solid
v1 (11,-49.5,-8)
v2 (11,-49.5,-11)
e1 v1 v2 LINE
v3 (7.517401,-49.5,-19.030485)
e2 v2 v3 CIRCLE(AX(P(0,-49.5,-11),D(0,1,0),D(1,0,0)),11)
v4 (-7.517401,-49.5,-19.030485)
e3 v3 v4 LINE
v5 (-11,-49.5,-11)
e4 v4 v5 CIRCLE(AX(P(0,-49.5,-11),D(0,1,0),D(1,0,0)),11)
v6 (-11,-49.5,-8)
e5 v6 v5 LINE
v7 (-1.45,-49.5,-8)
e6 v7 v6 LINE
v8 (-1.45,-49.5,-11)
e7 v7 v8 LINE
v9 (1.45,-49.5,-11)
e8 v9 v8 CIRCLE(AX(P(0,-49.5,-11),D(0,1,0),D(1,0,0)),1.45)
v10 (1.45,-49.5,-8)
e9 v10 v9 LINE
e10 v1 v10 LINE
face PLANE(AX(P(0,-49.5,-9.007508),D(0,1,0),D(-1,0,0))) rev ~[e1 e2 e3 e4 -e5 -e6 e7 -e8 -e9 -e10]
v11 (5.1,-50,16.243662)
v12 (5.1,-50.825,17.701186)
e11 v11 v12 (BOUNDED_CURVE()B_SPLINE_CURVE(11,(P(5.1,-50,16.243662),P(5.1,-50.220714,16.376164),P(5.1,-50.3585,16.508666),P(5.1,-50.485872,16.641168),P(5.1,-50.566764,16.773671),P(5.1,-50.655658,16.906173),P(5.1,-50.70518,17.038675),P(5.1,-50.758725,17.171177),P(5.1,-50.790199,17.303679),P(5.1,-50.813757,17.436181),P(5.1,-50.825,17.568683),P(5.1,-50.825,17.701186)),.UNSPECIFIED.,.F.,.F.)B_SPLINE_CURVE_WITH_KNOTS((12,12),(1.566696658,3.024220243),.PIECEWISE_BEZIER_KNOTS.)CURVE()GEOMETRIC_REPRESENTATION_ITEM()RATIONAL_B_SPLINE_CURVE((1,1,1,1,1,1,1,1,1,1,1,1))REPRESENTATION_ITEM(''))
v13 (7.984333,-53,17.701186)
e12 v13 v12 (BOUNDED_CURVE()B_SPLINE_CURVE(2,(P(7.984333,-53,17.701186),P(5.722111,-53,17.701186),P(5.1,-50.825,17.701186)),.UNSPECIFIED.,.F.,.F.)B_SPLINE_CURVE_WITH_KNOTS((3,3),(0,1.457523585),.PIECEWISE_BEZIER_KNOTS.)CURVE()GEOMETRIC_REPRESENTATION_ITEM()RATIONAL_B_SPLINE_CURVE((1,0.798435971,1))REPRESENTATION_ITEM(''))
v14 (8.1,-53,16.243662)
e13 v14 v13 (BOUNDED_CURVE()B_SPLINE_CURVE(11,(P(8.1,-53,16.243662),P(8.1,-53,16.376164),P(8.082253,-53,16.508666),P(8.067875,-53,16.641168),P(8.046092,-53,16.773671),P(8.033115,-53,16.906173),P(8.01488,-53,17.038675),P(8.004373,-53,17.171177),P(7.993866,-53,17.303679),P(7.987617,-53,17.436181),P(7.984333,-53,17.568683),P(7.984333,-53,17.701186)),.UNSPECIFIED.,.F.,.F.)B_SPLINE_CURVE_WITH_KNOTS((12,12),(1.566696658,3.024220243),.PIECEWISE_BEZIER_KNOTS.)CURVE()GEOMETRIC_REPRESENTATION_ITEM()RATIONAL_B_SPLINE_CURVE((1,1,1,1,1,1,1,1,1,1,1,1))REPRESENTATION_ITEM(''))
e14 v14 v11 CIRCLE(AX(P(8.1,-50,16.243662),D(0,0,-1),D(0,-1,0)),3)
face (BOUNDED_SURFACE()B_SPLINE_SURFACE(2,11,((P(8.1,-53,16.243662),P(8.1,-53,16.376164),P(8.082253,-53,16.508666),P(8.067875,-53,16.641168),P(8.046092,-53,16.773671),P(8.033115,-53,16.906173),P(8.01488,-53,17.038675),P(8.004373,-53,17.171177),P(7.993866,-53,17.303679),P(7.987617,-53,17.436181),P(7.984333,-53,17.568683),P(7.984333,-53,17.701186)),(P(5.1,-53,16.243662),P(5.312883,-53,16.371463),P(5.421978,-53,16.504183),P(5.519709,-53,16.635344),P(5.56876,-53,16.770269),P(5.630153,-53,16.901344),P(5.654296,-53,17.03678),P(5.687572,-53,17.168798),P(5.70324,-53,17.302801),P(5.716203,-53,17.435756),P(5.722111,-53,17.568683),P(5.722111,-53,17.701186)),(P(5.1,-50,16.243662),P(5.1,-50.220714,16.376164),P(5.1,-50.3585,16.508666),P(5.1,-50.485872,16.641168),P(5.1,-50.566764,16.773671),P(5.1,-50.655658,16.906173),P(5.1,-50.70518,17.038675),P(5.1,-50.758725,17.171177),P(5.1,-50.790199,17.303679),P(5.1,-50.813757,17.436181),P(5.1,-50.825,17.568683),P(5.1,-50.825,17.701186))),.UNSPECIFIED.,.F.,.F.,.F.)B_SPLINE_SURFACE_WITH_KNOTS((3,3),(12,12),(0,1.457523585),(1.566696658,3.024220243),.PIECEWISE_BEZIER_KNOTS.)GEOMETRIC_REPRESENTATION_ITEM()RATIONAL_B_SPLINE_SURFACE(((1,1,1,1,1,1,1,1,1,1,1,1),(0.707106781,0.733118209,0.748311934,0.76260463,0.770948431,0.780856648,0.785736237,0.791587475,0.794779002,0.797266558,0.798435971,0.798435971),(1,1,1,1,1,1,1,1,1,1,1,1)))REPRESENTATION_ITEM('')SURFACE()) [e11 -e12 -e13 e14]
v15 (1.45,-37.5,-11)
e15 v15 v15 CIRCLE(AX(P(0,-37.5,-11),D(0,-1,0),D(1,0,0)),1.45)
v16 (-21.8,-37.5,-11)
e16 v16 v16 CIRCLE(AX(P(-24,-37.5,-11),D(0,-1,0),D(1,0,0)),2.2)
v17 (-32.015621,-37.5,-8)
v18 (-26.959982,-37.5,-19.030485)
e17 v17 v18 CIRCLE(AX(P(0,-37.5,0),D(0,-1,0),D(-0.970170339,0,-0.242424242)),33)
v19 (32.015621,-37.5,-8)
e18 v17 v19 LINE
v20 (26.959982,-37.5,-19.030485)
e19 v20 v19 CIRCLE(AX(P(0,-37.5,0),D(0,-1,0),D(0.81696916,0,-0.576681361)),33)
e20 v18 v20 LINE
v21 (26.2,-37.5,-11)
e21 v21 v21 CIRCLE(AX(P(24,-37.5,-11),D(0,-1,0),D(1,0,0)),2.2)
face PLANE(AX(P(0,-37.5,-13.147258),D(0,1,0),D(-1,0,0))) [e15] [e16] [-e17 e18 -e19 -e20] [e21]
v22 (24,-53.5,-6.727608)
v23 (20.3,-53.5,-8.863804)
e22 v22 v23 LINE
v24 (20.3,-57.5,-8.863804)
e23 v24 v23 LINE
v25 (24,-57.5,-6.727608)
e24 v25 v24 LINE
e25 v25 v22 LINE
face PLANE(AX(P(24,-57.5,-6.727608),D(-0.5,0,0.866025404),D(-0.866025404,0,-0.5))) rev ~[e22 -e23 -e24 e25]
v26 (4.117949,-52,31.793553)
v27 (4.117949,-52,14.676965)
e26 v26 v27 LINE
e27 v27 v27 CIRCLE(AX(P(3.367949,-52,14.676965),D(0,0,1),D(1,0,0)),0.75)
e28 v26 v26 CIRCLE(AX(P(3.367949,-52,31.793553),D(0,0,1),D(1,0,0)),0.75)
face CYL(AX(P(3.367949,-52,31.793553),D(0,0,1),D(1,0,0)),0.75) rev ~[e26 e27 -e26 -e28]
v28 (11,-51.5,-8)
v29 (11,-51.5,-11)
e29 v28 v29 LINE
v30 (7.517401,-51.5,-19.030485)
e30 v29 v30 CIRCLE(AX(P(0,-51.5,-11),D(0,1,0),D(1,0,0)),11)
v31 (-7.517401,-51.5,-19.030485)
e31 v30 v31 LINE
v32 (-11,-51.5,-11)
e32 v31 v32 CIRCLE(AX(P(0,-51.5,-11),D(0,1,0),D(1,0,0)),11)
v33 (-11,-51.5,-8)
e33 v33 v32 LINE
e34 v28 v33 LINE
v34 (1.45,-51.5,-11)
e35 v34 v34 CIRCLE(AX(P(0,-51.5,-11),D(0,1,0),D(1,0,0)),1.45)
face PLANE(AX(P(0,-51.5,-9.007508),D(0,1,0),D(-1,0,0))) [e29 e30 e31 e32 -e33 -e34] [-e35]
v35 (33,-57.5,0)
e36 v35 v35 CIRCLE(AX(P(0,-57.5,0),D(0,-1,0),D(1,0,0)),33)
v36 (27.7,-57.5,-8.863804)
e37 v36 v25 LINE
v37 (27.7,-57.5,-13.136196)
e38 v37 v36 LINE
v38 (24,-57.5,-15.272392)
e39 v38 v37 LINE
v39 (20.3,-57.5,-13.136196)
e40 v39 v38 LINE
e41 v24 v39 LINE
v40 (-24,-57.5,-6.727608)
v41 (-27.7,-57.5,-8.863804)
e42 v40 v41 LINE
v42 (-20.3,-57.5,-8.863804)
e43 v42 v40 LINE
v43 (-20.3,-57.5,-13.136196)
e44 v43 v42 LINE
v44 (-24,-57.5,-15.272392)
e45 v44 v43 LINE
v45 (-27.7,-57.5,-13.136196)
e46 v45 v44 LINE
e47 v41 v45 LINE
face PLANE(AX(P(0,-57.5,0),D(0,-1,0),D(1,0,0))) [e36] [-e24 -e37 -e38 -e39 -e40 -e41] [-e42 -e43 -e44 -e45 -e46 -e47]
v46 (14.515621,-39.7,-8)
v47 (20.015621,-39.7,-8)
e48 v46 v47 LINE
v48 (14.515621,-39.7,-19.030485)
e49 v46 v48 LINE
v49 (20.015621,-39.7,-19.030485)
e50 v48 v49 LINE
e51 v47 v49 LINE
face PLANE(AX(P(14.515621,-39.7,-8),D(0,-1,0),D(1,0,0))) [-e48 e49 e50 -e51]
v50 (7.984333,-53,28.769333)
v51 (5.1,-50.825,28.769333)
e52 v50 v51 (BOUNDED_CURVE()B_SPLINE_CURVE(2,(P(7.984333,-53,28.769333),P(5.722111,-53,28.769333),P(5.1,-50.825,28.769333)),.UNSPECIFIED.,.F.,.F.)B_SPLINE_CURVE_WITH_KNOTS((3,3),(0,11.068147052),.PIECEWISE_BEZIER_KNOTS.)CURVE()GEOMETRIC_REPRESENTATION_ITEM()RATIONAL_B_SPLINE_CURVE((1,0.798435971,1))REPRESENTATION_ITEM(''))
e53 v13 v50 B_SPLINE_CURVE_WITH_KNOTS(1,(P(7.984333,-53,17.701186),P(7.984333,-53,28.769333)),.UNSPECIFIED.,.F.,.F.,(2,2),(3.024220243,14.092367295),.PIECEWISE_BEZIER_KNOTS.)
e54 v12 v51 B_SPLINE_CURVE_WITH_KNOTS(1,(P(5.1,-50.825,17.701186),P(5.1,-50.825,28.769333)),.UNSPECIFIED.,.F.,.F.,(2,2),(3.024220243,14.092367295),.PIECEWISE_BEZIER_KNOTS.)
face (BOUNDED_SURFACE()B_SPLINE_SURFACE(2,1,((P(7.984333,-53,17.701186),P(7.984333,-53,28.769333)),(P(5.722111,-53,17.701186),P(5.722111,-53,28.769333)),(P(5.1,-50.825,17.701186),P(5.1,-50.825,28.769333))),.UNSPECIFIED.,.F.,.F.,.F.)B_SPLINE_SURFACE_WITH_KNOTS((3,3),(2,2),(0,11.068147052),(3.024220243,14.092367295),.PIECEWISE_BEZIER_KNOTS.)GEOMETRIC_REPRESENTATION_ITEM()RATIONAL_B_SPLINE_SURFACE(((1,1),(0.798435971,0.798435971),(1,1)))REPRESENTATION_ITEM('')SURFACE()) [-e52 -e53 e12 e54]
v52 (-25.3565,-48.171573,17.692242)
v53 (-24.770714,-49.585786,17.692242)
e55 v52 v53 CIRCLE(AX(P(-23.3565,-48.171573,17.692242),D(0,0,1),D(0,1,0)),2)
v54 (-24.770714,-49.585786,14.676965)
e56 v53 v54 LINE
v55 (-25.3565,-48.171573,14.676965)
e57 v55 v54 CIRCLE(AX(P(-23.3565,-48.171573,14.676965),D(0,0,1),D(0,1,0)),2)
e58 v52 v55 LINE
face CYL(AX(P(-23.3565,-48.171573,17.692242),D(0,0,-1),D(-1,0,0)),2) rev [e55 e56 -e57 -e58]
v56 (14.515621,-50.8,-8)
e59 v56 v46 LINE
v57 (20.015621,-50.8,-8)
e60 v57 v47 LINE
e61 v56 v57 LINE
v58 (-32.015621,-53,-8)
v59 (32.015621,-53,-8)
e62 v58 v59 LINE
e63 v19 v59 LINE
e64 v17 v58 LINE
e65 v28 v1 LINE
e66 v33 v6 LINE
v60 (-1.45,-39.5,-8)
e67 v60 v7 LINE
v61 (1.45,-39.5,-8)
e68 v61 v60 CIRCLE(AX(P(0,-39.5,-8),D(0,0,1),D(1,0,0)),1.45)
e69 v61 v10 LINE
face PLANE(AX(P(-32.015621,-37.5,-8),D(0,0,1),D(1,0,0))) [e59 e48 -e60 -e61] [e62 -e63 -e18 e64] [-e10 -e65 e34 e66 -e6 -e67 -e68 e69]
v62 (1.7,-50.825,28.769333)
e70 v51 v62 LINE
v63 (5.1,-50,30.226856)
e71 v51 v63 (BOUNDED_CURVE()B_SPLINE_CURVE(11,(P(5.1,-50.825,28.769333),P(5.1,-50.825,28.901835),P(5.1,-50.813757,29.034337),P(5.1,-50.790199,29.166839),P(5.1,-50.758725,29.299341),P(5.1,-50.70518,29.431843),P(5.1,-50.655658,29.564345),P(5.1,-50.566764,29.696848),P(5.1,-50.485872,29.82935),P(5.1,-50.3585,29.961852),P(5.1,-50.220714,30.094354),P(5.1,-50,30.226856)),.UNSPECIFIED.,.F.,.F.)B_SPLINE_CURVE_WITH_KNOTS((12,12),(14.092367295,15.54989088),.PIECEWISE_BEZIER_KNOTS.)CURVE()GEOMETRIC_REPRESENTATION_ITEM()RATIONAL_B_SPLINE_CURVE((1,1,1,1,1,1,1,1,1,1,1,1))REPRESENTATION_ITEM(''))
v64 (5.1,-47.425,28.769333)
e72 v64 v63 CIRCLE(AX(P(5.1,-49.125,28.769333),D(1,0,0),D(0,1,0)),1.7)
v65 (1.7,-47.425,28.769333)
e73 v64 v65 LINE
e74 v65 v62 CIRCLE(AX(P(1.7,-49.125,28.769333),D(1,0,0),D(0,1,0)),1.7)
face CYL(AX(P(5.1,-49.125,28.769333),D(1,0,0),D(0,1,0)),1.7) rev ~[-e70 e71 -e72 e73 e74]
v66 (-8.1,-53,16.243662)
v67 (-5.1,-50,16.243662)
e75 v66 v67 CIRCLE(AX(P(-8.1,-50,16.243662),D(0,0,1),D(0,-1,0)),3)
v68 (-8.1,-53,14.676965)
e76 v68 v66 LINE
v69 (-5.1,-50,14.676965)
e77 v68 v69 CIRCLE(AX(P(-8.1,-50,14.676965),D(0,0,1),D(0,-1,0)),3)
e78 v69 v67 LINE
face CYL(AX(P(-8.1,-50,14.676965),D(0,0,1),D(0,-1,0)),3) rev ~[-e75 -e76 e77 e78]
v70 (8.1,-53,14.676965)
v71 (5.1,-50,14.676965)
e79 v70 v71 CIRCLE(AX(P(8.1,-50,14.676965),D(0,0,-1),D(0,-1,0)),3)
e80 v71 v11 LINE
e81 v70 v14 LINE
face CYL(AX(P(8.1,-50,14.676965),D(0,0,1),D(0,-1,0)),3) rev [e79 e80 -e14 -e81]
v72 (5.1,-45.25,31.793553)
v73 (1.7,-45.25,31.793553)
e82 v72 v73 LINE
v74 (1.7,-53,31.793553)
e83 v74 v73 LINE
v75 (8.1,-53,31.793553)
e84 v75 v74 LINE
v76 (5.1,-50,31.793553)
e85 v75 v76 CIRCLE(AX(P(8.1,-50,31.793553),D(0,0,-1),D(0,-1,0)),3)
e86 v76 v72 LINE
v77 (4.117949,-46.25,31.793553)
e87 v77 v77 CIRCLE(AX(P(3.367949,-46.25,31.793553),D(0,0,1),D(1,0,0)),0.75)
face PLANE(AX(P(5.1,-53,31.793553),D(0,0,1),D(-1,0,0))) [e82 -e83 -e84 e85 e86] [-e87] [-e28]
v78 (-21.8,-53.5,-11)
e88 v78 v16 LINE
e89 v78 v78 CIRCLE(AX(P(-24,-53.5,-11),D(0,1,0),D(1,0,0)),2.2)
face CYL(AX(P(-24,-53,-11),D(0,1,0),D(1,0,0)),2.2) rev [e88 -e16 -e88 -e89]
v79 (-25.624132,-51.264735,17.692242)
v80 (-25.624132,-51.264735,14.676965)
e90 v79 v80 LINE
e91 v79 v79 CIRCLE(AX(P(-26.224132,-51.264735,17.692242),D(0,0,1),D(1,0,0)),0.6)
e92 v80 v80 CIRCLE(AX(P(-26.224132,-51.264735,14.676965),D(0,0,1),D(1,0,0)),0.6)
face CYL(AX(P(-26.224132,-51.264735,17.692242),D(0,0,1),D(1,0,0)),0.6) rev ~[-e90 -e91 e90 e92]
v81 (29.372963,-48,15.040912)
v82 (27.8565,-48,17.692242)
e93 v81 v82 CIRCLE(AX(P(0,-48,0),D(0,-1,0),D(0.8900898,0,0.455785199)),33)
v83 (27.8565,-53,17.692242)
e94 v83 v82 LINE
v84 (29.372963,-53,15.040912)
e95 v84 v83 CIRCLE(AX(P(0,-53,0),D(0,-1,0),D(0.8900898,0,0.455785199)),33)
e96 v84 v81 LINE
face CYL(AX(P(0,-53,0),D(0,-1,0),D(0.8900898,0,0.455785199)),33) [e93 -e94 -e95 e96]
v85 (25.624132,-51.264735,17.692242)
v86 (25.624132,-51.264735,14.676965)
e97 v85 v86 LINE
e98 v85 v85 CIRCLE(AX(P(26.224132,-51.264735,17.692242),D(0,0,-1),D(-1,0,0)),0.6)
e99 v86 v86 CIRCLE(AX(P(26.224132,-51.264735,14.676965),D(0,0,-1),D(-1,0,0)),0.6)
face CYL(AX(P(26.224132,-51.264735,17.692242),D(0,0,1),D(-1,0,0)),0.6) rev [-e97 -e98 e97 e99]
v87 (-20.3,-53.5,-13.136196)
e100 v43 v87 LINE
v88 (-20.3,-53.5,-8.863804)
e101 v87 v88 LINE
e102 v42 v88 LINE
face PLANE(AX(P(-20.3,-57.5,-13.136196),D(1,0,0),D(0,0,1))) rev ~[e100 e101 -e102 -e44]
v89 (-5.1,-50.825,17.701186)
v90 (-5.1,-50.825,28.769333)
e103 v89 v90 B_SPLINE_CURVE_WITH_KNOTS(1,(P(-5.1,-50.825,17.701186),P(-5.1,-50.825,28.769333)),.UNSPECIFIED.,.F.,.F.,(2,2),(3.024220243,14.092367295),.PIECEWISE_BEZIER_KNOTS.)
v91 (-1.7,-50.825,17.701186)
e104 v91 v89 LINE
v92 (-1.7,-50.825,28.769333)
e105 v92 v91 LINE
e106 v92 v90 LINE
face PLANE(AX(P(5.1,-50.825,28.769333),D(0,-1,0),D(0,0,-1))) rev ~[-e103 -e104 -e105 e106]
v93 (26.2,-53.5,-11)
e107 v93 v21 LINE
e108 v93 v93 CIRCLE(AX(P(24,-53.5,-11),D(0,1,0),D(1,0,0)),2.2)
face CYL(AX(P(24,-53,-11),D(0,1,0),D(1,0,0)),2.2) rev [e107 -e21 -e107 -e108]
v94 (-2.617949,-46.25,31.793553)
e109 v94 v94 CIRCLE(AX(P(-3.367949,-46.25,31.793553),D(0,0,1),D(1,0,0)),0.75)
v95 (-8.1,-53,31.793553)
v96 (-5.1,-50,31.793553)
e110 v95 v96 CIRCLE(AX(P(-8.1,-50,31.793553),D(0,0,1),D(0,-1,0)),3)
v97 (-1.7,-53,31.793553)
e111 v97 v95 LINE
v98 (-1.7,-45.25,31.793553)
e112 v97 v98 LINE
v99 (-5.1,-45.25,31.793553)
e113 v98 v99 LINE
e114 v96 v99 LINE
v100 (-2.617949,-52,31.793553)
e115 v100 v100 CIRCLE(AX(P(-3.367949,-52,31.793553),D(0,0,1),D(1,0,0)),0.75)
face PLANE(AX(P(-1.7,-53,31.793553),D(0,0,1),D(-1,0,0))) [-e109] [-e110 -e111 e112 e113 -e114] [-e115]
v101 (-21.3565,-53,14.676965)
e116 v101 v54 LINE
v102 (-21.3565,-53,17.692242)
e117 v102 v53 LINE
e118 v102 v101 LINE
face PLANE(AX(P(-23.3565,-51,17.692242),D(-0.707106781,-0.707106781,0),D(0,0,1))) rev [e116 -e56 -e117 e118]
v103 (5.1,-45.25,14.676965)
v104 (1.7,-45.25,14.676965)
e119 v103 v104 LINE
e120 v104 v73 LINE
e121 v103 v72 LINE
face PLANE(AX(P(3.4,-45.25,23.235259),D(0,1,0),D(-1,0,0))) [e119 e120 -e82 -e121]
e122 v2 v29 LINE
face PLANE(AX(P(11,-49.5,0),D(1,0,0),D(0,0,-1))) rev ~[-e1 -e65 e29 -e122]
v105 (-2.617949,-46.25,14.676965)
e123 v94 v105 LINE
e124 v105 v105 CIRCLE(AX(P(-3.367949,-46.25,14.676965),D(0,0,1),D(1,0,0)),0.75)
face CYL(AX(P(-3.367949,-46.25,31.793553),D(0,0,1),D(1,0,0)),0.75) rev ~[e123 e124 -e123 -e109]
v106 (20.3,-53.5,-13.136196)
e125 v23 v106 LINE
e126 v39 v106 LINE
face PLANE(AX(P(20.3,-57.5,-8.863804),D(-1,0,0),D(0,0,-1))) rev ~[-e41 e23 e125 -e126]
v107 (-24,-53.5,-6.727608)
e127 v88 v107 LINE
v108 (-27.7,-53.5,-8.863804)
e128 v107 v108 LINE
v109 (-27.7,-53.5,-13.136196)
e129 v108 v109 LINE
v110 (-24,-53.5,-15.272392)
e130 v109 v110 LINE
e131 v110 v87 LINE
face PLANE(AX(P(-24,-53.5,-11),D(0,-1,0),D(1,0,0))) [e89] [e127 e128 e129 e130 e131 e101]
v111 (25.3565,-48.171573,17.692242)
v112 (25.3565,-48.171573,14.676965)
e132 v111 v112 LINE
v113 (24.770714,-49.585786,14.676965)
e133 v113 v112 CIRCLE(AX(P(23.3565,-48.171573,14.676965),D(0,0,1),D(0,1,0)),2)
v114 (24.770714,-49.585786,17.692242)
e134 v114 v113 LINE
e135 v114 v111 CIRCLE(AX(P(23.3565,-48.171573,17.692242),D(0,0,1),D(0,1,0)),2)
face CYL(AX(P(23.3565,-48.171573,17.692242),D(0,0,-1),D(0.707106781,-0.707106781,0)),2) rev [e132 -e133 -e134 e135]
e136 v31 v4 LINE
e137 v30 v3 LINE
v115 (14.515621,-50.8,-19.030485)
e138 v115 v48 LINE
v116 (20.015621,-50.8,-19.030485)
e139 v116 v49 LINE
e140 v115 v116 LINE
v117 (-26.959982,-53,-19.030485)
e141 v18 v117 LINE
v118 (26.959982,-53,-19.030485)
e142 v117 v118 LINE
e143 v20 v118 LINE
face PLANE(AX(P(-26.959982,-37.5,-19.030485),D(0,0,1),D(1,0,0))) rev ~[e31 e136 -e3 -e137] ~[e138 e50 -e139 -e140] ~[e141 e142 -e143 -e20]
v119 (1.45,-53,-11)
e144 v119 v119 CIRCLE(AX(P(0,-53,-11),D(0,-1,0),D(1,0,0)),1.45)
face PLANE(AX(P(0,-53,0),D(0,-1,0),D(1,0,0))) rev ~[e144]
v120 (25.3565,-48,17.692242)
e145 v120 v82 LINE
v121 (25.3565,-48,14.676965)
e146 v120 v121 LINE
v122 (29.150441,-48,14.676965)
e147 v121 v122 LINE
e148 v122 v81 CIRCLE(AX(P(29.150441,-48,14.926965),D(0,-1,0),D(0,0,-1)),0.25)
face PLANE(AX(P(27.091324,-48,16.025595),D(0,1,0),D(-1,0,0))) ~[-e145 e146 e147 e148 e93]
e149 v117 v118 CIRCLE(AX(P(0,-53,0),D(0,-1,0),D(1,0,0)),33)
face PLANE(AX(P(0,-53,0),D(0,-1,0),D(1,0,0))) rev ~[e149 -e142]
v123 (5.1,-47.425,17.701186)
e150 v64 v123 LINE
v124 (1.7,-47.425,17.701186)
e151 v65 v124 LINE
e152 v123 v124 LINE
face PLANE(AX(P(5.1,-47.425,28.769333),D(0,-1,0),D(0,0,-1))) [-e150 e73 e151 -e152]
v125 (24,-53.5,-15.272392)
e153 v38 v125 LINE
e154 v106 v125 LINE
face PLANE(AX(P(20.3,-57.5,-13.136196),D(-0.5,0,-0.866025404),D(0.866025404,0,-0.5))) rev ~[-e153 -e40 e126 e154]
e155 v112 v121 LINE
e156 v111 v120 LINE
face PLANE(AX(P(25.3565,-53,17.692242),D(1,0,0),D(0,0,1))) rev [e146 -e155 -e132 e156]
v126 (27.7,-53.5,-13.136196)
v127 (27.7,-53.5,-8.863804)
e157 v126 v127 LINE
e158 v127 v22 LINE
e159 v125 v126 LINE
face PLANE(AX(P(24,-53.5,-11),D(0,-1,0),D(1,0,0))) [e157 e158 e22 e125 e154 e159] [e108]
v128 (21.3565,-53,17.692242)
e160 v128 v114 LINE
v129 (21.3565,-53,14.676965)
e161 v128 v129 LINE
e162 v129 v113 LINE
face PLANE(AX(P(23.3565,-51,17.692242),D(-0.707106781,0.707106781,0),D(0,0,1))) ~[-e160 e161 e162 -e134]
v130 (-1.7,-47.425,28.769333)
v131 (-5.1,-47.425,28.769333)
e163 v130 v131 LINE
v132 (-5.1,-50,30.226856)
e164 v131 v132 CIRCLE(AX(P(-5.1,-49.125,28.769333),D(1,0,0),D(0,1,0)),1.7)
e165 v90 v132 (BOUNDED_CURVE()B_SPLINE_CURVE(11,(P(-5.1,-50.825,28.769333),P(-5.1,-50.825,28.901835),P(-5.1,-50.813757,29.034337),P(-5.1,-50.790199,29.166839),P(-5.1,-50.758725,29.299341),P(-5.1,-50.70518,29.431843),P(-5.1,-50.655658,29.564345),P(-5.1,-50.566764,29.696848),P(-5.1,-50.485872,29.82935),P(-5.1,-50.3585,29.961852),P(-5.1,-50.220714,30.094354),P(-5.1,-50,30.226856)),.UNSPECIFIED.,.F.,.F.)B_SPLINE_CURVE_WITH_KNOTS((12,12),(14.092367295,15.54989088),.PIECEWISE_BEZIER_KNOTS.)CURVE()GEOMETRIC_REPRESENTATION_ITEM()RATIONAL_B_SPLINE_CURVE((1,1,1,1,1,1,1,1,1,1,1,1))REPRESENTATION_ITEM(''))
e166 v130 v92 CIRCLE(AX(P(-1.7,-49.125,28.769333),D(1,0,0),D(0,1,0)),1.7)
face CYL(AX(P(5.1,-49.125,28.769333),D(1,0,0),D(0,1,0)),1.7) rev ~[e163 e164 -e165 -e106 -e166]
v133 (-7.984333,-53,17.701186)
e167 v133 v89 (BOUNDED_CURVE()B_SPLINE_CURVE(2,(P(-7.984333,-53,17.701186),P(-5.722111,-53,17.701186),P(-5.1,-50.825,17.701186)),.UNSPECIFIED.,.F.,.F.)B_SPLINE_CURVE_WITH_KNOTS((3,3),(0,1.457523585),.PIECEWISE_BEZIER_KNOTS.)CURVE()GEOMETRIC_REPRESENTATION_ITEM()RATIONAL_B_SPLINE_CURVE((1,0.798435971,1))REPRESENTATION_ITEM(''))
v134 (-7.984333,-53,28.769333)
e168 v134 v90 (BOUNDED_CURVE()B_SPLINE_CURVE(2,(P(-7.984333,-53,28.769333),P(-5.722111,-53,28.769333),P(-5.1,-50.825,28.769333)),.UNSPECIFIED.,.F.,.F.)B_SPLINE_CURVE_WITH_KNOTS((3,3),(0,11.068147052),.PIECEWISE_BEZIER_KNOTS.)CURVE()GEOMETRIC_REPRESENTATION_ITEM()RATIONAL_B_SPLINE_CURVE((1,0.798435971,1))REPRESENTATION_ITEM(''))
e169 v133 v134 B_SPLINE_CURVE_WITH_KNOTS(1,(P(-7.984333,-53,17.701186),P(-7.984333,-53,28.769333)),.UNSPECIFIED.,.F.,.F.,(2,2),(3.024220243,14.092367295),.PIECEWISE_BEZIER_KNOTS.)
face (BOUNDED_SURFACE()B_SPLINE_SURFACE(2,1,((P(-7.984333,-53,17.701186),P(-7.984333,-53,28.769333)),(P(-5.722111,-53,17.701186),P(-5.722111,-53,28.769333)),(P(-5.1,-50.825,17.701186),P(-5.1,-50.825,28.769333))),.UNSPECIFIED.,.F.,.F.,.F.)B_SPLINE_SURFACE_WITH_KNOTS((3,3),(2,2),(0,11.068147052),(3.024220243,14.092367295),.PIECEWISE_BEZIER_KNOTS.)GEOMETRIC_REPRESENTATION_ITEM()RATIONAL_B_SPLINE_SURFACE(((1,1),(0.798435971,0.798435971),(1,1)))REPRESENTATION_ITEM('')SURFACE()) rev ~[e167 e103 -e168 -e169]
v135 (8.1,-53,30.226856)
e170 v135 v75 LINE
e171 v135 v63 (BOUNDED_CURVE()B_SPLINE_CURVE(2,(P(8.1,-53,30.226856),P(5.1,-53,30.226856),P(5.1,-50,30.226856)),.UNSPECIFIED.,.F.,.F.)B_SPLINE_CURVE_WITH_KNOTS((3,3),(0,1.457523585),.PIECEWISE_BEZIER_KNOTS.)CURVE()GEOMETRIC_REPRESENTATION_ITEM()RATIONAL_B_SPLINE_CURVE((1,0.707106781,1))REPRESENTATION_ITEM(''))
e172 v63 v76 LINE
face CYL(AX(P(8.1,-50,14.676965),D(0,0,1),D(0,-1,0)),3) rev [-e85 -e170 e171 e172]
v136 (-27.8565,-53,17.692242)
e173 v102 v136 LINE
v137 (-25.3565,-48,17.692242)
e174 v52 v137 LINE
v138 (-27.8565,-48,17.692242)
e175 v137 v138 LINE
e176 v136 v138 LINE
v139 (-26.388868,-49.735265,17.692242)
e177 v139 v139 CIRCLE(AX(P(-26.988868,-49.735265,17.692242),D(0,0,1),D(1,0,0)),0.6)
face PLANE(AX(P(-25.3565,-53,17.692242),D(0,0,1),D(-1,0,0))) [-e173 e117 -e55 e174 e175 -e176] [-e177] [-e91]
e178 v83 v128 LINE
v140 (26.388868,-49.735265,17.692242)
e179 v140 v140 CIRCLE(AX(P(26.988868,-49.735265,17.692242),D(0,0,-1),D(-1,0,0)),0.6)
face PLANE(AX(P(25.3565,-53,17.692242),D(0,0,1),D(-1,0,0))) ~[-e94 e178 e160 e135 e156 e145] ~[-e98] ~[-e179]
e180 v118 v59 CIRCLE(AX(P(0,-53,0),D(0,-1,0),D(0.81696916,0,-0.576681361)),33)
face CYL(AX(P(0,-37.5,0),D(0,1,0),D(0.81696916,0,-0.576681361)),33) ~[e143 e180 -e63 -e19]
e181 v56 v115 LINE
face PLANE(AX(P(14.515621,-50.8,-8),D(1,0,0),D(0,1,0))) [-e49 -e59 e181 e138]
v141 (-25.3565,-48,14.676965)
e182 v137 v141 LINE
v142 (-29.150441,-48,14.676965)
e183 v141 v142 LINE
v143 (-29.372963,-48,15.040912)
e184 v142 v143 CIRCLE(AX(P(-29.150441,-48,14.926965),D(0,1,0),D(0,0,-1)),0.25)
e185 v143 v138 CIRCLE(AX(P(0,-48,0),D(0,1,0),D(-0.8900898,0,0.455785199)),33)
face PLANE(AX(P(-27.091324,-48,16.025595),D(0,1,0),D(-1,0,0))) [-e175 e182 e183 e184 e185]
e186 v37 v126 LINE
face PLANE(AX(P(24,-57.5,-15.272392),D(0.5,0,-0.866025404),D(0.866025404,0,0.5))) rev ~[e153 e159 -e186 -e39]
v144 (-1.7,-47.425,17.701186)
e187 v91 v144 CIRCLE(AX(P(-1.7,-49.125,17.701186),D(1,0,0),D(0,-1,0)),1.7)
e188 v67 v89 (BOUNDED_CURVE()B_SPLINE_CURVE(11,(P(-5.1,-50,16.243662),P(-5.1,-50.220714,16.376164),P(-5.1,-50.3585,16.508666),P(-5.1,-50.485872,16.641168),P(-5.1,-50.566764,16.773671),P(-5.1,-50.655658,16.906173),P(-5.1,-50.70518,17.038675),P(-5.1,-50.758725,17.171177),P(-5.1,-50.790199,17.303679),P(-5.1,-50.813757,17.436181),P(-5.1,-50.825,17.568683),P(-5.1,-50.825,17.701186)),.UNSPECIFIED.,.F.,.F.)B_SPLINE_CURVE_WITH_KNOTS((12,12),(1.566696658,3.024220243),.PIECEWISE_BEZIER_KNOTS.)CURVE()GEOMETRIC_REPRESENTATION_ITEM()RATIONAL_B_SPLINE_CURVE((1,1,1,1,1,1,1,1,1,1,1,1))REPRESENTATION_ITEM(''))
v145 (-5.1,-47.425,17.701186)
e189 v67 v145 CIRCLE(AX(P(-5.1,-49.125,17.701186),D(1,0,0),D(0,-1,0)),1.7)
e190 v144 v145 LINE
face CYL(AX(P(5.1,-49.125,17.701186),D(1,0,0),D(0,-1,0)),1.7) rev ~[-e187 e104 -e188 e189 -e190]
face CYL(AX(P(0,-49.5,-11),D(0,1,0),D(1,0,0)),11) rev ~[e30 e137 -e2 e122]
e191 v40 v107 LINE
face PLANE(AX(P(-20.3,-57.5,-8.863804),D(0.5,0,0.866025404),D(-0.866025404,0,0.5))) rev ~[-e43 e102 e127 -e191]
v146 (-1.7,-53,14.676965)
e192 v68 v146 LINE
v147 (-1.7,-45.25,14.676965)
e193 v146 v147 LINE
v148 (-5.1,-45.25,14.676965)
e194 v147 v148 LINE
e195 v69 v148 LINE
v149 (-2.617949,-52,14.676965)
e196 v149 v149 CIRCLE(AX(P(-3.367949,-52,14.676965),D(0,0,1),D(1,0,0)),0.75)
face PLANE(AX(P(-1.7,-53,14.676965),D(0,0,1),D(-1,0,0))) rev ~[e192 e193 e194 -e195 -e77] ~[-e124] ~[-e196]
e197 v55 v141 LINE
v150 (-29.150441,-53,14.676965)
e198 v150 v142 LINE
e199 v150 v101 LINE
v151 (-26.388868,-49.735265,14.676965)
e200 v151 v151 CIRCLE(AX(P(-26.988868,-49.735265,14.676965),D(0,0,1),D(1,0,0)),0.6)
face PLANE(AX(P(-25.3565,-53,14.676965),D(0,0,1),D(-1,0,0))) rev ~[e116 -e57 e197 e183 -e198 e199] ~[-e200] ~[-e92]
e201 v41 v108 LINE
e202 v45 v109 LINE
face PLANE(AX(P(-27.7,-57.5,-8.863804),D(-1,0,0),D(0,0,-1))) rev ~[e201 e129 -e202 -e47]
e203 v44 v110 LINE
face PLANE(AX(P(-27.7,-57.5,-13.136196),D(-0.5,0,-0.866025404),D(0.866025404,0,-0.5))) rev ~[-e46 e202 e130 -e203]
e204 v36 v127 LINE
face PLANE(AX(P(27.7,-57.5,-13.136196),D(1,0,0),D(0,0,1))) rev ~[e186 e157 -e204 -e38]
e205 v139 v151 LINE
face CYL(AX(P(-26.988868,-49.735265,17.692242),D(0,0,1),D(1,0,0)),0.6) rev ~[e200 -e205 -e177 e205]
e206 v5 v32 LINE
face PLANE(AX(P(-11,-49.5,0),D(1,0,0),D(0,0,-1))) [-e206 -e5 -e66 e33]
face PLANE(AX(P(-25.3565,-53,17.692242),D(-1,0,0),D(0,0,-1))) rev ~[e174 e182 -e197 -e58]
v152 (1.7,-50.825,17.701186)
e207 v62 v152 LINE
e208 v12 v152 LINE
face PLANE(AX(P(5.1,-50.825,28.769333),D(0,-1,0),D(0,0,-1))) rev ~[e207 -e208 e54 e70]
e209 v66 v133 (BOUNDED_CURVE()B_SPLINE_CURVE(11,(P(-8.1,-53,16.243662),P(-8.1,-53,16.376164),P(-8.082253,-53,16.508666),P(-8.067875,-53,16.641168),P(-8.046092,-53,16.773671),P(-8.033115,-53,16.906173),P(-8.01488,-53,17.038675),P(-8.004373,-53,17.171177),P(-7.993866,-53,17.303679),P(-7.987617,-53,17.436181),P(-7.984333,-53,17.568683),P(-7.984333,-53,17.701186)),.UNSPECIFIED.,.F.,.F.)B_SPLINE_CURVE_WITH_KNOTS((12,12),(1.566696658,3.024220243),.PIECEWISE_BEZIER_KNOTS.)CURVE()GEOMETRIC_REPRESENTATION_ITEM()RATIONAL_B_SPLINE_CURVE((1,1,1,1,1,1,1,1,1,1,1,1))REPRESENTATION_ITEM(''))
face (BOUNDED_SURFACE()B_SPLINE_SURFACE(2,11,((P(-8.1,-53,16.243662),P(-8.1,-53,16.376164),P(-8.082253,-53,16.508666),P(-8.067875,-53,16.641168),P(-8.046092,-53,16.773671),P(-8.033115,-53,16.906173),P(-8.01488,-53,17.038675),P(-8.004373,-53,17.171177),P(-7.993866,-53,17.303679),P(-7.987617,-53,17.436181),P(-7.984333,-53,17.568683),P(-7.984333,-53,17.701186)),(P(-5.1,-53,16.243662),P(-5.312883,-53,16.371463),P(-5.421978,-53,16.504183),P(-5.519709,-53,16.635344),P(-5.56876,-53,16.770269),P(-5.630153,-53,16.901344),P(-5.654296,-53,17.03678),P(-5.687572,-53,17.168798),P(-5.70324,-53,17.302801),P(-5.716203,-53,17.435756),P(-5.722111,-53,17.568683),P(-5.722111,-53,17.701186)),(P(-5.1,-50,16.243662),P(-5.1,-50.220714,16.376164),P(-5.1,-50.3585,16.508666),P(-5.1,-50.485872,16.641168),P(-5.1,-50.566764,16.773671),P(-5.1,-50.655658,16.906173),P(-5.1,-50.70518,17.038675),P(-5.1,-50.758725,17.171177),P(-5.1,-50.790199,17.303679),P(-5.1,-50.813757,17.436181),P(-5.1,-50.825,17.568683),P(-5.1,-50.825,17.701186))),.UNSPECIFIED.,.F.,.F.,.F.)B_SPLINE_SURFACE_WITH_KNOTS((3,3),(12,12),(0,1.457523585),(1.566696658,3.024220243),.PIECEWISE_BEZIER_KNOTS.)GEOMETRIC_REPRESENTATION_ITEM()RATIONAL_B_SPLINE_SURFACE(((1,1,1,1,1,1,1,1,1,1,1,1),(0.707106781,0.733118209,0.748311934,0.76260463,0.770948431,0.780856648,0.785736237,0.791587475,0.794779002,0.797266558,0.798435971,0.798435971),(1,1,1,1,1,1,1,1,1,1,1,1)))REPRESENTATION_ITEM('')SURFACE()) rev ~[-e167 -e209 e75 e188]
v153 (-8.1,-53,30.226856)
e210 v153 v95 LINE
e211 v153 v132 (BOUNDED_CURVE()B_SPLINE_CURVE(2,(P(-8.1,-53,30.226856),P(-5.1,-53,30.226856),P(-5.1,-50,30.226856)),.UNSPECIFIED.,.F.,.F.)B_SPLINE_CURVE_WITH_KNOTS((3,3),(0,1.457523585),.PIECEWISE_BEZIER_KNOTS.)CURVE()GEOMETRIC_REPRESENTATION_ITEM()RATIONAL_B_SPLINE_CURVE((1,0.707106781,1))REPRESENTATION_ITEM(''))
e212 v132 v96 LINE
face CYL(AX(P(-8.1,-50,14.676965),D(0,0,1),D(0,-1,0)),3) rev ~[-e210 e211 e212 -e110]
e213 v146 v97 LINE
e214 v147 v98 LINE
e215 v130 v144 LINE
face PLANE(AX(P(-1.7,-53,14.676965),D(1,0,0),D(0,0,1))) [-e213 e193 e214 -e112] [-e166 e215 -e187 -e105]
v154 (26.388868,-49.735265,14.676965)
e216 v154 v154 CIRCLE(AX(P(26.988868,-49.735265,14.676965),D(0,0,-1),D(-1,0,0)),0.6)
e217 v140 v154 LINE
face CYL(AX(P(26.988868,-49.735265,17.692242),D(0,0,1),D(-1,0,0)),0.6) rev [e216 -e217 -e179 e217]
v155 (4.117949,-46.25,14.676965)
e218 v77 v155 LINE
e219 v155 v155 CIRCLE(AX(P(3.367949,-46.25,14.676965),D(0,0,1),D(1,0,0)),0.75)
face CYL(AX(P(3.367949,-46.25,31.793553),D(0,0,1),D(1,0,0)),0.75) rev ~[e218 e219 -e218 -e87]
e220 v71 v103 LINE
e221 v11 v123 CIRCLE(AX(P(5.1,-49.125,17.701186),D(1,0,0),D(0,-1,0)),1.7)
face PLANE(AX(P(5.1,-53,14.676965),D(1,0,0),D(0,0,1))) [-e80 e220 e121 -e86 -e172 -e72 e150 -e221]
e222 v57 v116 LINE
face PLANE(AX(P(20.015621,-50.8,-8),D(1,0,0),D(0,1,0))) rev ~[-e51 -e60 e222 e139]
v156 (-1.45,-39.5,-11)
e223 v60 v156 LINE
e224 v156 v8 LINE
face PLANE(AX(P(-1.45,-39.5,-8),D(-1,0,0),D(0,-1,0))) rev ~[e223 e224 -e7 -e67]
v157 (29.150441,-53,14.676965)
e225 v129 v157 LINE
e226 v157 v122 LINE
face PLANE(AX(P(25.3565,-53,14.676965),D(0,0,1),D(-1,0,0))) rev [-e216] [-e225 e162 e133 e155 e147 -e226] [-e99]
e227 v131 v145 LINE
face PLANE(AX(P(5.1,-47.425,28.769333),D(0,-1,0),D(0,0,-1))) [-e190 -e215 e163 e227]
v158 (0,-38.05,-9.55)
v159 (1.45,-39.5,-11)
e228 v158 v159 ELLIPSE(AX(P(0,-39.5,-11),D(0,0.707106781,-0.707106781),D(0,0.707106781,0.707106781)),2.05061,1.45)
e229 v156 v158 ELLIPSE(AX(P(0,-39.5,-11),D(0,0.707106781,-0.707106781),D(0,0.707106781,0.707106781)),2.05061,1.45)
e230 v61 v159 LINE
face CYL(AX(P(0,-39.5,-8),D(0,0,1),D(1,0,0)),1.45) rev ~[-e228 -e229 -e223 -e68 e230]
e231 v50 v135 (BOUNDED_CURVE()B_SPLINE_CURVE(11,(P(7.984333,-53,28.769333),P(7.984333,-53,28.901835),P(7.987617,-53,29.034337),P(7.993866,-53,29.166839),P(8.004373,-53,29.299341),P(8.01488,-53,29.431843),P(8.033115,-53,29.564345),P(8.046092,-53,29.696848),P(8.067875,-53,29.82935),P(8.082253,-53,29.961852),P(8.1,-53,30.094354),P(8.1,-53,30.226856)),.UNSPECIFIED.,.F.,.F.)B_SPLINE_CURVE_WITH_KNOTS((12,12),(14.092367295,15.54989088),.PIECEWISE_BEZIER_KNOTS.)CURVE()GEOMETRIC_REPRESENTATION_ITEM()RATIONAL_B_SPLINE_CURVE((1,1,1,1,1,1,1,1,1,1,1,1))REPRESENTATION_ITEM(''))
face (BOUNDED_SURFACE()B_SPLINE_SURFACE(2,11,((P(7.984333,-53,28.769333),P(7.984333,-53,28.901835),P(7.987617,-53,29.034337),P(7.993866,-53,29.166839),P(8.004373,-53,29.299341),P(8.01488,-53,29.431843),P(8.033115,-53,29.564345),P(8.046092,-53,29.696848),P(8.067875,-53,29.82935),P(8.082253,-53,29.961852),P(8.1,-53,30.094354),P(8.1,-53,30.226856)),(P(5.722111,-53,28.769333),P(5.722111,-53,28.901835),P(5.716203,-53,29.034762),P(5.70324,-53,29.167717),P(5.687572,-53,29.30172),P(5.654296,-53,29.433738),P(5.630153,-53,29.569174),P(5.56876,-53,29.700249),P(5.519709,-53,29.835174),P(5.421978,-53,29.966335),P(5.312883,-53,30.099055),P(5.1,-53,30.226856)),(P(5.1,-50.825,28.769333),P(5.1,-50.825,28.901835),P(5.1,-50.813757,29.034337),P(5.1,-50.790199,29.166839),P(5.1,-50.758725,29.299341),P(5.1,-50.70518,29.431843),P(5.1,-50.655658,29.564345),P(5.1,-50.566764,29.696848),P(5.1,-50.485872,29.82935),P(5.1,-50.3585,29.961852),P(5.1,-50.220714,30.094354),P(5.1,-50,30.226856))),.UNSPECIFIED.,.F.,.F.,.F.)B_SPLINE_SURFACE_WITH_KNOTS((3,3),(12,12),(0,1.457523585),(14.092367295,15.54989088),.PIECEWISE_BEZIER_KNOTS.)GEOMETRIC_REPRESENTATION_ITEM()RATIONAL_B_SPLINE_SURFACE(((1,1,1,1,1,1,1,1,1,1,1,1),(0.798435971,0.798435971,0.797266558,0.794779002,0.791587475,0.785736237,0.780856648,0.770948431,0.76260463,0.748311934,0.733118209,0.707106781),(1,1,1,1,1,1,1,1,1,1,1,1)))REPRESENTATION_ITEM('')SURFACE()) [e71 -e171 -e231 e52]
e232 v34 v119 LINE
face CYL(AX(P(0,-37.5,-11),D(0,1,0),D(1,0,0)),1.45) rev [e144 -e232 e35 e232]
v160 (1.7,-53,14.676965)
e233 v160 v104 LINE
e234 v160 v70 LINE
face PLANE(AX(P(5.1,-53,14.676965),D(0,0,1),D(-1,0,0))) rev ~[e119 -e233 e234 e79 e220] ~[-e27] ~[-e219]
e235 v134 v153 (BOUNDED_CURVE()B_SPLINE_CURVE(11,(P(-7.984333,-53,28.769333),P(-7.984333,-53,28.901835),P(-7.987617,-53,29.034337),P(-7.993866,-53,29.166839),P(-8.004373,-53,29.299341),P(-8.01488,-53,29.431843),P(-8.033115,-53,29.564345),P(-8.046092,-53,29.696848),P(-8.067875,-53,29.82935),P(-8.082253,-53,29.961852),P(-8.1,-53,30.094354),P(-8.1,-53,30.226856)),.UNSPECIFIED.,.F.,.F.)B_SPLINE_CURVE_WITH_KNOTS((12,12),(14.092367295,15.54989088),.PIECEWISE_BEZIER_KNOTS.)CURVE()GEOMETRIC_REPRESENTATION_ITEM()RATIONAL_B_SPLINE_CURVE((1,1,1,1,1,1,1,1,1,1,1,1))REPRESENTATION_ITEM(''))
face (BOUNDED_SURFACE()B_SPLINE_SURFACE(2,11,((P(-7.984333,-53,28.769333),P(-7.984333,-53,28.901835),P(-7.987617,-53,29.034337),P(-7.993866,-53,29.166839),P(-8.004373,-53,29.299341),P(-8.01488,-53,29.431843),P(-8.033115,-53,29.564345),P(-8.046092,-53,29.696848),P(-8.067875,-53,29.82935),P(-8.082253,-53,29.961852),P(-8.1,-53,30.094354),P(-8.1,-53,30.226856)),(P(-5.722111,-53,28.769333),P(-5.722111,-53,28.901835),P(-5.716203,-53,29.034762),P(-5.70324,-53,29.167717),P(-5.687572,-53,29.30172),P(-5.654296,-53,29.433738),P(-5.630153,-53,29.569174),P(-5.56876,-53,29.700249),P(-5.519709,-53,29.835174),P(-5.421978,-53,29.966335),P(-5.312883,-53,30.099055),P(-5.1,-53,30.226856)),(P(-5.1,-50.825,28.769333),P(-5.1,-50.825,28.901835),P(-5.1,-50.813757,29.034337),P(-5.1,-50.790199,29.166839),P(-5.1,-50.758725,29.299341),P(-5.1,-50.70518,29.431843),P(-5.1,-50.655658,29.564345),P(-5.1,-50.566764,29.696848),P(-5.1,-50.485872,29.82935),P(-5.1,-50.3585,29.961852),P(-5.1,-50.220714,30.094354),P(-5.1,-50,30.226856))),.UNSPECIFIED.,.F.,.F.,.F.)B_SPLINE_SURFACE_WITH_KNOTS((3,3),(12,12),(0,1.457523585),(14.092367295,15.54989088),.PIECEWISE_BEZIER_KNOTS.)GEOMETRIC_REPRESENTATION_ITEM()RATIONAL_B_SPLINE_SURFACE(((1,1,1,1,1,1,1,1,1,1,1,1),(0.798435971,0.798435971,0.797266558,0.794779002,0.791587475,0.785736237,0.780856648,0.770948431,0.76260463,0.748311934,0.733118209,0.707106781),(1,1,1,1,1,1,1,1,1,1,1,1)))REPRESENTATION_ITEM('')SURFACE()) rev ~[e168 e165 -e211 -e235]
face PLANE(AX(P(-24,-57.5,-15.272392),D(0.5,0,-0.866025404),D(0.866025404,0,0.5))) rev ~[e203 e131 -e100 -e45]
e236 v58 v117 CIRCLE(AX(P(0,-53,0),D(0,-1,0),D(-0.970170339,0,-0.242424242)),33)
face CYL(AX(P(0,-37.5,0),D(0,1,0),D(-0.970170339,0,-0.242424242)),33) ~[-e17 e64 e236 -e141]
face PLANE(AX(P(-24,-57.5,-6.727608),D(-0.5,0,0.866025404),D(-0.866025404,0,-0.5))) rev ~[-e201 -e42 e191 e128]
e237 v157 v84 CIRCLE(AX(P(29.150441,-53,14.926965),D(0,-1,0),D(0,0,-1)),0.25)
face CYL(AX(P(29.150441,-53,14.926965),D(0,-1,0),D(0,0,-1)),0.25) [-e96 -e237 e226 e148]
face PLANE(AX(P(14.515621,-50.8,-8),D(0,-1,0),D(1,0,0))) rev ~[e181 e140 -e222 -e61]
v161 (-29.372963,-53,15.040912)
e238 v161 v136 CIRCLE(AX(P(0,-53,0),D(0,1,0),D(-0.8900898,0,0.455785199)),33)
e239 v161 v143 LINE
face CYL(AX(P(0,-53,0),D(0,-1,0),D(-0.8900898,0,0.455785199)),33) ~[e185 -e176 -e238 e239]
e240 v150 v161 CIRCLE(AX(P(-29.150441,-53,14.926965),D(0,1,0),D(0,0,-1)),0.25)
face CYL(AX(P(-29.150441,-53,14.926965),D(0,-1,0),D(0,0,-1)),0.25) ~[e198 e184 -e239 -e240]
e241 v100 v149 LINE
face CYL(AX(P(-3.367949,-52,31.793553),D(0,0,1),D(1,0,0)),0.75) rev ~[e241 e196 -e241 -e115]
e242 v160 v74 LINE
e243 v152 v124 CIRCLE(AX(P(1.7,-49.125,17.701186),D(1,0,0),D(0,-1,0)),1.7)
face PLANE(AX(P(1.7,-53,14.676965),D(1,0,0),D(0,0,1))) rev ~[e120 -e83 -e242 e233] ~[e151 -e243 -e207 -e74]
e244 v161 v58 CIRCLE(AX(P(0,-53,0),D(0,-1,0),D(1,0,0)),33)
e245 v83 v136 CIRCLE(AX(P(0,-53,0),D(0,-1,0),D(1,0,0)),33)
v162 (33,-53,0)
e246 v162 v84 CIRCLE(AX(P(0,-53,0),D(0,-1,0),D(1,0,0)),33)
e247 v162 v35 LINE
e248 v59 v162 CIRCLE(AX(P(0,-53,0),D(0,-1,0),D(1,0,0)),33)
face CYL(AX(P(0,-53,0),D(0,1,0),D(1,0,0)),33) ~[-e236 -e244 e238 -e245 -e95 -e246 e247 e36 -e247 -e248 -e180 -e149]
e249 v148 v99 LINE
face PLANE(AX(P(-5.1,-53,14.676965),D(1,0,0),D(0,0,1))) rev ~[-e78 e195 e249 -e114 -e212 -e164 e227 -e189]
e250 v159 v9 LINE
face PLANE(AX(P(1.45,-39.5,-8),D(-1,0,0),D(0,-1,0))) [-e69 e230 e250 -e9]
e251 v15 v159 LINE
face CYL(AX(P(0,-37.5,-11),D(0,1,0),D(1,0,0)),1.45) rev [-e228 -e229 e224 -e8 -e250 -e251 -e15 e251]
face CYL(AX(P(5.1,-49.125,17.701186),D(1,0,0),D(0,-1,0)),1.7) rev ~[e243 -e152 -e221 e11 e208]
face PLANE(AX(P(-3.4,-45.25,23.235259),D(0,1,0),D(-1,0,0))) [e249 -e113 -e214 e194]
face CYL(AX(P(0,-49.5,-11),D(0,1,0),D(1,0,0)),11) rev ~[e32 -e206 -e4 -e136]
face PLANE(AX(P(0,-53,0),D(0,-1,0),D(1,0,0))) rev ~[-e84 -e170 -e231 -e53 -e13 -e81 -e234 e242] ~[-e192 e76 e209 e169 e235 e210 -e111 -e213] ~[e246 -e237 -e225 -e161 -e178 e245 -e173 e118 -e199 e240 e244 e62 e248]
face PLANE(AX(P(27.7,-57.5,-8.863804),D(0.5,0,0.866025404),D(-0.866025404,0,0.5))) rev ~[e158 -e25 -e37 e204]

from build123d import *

# Parameters (mm, degrees)
SKETCH002_R     = 2.2
SKETCH002_R_2   = 1.45
PAD002_DEPTH    = 15.5
SKETCH003_R     = 33
SKETCH003_R_2   = 2.2
PAD003_DEPTH    = 4.5
POCKET_DEPTH    = 3
POCKET001_DEPTH = 4
POCKET003_DEPTH = 2
SKETCH011_W     = 5.5
SKETCH011_H     = 11.1
POCKET004_DEPTH = 25.001
SKETCH012_W     = 3.4
SKETCH012_H     = 17.1165875376
PAD007_DEPTH    = 7.75
POCKET005_DEPTH = 229.0145930205
SKETCH017_R     = 0.75
POCKET008_DEPTH = 17.1165875376
PAD008_DEPTH    = 5
SKETCH020_R     = 0.6
POCKET009_DEPTH = 3.0152762344
FILLET_R        = 3
CHAMFER_SIZE    = 4
CHAMFER001_SIZE = 4
FILLET006_R     = 2
FILLET007_R     = 2


with BuildPart() as part:
    # Sketch002 (on Face1 of ShapeBinder) → Pad002 (new body)
    with BuildSketch(Plane.XZ.offset(37.5)):
        with BuildLine():
            Line((-32.0156211872, -8), (32.0156211872, -8))
            ThreePointArc((26.9599822671, -19.0304849165), (29.9991391555, -13.7496054463), (32.0156211872, -8))
            Line((-26.9599822671, -19.0304849165), (26.9599822671, -19.0304849165))
            ThreePointArc((-32.0156211872, -8), (-29.9991391555, -13.7496054463), (-26.9599822671, -19.0304849165))
        make_face()
        with Locations((24, -11)):
            Circle(SKETCH002_R, mode=Mode.SUBTRACT)
        with Locations((0, -11)):
            Circle(SKETCH002_R_2, mode=Mode.SUBTRACT)
        with Locations((-24, -11)):
            Circle(SKETCH002_R, mode=Mode.SUBTRACT)
    extrude(amount=PAD002_DEPTH)

    # Sketch003 (on Face9 of Pad002) → Pad003 (join)
    with BuildSketch(Plane.XZ.offset(53)):
        Circle(SKETCH003_R)
        with Locations((24, -11)):
            Circle(SKETCH003_R_2, mode=Mode.SUBTRACT)
        with Locations((-24, -11)):
            Circle(SKETCH003_R_2, mode=Mode.SUBTRACT)
    extrude(amount=PAD003_DEPTH)

    # Sketch007 (on Face2 of Pad003) → Pocket (cut)
    with BuildSketch(Plane(origin=(0, -4.5, -8), x_dir=(1, 0, 0), z_dir=(0, 0, 1))):
        with BuildLine():
            ThreePointArc((1.45, -35), (0, -33.55), (-1.45, -35))
            Line((-1.45, -35), (-1.45, -45))
            Line((-1.45, -45), (1.45, -45))
            Line((1.45, -35), (1.45, -45))
        make_face()
    extrude(amount=-POCKET_DEPTH, mode=Mode.SUBTRACT)

    # Sketch008 (on Face16 of Pocket) → Pocket001 (cut)
    with BuildSketch(Plane.XZ.offset(57.5)):
        Polygon((27.7, -13.136195996), (27.7, -8.863804004), (24, -6.727608008), (20.3, -8.863804004), (20.3, -13.136195996), (24, -15.272391992), align=None)
        Polygon((-20.3, -13.136195996), (-20.3, -8.863804004), (-24, -6.727608008), (-27.7, -8.863804004), (-27.7, -13.136195996), (-24, -15.272391992), align=None)
    extrude(amount=-POCKET001_DEPTH, mode=Mode.SUBTRACT)

    # Sketch010 (on Face10 of Pocket001) → Pocket003 (cut)
    with BuildSketch(Plane(origin=(0, -49.5, 0), x_dir=(-1, 0, 0), z_dir=(0, 1, 0))):
        with BuildLine():
            ThreePointArc((-11, -11.0000000007), (6e-10, -22), (11, -10.9999999995))
            Line((11, 0), (11, -10.9999999995))
            Line((-11, 0), (11, 0))
            Line((-11, 0), (-11, -11.0000000007))
        make_face()
    extrude(amount=-POCKET003_DEPTH, mode=Mode.SUBTRACT)

    # Sketch011 (on Face2 of Pocket003) → Pocket004 (cut, through all)
    with BuildSketch(Plane(origin=(0, -4.5, -8), x_dir=(1, 0, 0), z_dir=(0, 0, 1))):
        with Locations((17.2656211872, -40.75)):
            Rectangle(SKETCH011_W, SKETCH011_H)
    extrude(amount=-POCKET004_DEPTH, mode=Mode.SUBTRACT)

    # Sketch012 (on Face6 of Pocket004) → Pad007 (join)
    with BuildSketch(Plane(origin=(0, -53, 0), x_dir=(-1, 0, 0), z_dir=(0, 1, 0))):
        with Locations((-3.4, 23.2352590367)):
            Rectangle(SKETCH012_W, SKETCH012_H)
        with Locations((3.4, 23.2352590367)):
            Rectangle(SKETCH012_W, SKETCH012_H)
    extrude(amount=PAD007_DEPTH)

    # Sketch013 (on Face33 of Pad007) → Pocket005 (cut, through all)
    with BuildSketch(Plane(origin=(5.1, -4.5, 0), x_dir=(0, 1, 0), z_dir=(1, 0, 0))):
        with BuildLine():
            ThreePointArc((-42.925, 28.7693325629), (-44.625, 30.4693325629), (-46.325, 28.7693325629))
            Line((-46.325, 28.7693325629), (-46.325, 17.7011855106))
            ThreePointArc((-46.325, 17.7011855106), (-44.625, 16.0011855106), (-42.925, 17.7011855106))
            Line((-42.925, 28.7693325629), (-42.925, 17.7011855106))
        make_face()
    extrude(amount=-POCKET005_DEPTH, mode=Mode.SUBTRACT)

    # Sketch017 (on Face30 of Pocket005) → Pocket008 (cut)
    with BuildSketch(Plane(origin=(0, -4.5, 31.7935528056), x_dir=(1, 0, 0), z_dir=(0, 0, 1))):
        with Locations((-3.3679491924, -41.75)):
            Circle(SKETCH017_R)
        with Locations((3.3679491924, -41.75)):
            Circle(SKETCH017_R)
        with Locations((-3.3679491924, -47.5)):
            Circle(SKETCH017_R)
        with Locations((3.3679491924, -47.5)):
            Circle(SKETCH017_R)
    extrude(amount=-POCKET008_DEPTH, mode=Mode.SUBTRACT)

    # Sketch019 (on Face6 of Pocket008) → Pad008 (join)
    with BuildSketch(Plane(origin=(0, -53, 0), x_dir=(-1, 0, 0), z_dir=(0, 1, 0))):
        with BuildLine():
            ThreePointArc((29.3729634054, 15.0409115677), (28.645422971, 16.3841308226), (27.8564999708, 17.6922415023))
            Line((25.3564999708, 17.6922415023), (27.8564999708, 17.6922415023))
            Line((25.3564999708, 17.6922415023), (25.3564999708, 14.6769652679))
            Line((25.3564999708, 14.6769652679), (29.1504409553, 14.6769652679))
            ThreePointArc((29.1504409553, 14.6769652679), (29.3637325104, 14.796555481), (29.3729634054, 15.0409115677))
        make_face()
    pad008 = extrude(amount=PAD008_DEPTH)

    # Sketch020 (on Face30 of Pad008) → Pocket009 (cut)
    with BuildSketch(Plane(origin=(0, -4.5, 17.6922415023), x_dir=(1, 0, 0), z_dir=(0, 0, 1))):
        with Locations((-26.988867595, -45.2352647517)):
            Circle(SKETCH020_R)
        with Locations((-26.2241323467, -46.7647352483)):
            Circle(SKETCH020_R)
    pocket009 = extrude(amount=-POCKET009_DEPTH, mode=Mode.SUBTRACT)

    # Mirrored: Pad008 across Sketch019 V_Axis
    add(pad008.mirror(Plane(origin=(0, -53, 0), x_dir=(0, 1, 0), z_dir=(-1, 0, 0))))

    # Mirrored001: Pocket009 across Sketch020 V_Axis
    add(pocket009.mirror(Plane(origin=(0, -4.5, 17.6922415023), x_dir=(0, 0, 1), z_dir=(1, 0, 0))), mode=Mode.SUBTRACT)

    # Fillet
    fillet_edges = [part.edges().sort_by_distance(p)[0] for p in [
        (5.1, -53, 23.235259),
        (-5.1, -53, 23.235259),
    ]]
    fillet(fillet_edges, radius=FILLET_R)

    # Chamfer
    chamfer_edges = [part.edges().sort_by_distance(p)[0] for p in [
        (-25.3565, -53, 16.184603),
    ]]
    chamfer(chamfer_edges, length=CHAMFER_SIZE)

    # Chamfer001
    chamfer001_edges = [part.edges().sort_by_distance(p)[0] for p in [
        (25.3565, -53, 16.184603),
    ]]
    chamfer(chamfer001_edges, length=CHAMFER001_SIZE)

    # Fillet006
    fillet006_edges = [part.edges().sort_by_distance(p)[0] for p in [
        (-25.3565, -49, 16.184603),
    ]]
    fillet(fillet006_edges, radius=FILLET006_R)

    # Fillet007
    fillet007_edges = [part.edges().sort_by_distance(p)[0] for p in [
        (25.3565, -49, 16.184603),
    ]]
    fillet(fillet007_edges, radius=FILLET007_R)


solid = part.part
